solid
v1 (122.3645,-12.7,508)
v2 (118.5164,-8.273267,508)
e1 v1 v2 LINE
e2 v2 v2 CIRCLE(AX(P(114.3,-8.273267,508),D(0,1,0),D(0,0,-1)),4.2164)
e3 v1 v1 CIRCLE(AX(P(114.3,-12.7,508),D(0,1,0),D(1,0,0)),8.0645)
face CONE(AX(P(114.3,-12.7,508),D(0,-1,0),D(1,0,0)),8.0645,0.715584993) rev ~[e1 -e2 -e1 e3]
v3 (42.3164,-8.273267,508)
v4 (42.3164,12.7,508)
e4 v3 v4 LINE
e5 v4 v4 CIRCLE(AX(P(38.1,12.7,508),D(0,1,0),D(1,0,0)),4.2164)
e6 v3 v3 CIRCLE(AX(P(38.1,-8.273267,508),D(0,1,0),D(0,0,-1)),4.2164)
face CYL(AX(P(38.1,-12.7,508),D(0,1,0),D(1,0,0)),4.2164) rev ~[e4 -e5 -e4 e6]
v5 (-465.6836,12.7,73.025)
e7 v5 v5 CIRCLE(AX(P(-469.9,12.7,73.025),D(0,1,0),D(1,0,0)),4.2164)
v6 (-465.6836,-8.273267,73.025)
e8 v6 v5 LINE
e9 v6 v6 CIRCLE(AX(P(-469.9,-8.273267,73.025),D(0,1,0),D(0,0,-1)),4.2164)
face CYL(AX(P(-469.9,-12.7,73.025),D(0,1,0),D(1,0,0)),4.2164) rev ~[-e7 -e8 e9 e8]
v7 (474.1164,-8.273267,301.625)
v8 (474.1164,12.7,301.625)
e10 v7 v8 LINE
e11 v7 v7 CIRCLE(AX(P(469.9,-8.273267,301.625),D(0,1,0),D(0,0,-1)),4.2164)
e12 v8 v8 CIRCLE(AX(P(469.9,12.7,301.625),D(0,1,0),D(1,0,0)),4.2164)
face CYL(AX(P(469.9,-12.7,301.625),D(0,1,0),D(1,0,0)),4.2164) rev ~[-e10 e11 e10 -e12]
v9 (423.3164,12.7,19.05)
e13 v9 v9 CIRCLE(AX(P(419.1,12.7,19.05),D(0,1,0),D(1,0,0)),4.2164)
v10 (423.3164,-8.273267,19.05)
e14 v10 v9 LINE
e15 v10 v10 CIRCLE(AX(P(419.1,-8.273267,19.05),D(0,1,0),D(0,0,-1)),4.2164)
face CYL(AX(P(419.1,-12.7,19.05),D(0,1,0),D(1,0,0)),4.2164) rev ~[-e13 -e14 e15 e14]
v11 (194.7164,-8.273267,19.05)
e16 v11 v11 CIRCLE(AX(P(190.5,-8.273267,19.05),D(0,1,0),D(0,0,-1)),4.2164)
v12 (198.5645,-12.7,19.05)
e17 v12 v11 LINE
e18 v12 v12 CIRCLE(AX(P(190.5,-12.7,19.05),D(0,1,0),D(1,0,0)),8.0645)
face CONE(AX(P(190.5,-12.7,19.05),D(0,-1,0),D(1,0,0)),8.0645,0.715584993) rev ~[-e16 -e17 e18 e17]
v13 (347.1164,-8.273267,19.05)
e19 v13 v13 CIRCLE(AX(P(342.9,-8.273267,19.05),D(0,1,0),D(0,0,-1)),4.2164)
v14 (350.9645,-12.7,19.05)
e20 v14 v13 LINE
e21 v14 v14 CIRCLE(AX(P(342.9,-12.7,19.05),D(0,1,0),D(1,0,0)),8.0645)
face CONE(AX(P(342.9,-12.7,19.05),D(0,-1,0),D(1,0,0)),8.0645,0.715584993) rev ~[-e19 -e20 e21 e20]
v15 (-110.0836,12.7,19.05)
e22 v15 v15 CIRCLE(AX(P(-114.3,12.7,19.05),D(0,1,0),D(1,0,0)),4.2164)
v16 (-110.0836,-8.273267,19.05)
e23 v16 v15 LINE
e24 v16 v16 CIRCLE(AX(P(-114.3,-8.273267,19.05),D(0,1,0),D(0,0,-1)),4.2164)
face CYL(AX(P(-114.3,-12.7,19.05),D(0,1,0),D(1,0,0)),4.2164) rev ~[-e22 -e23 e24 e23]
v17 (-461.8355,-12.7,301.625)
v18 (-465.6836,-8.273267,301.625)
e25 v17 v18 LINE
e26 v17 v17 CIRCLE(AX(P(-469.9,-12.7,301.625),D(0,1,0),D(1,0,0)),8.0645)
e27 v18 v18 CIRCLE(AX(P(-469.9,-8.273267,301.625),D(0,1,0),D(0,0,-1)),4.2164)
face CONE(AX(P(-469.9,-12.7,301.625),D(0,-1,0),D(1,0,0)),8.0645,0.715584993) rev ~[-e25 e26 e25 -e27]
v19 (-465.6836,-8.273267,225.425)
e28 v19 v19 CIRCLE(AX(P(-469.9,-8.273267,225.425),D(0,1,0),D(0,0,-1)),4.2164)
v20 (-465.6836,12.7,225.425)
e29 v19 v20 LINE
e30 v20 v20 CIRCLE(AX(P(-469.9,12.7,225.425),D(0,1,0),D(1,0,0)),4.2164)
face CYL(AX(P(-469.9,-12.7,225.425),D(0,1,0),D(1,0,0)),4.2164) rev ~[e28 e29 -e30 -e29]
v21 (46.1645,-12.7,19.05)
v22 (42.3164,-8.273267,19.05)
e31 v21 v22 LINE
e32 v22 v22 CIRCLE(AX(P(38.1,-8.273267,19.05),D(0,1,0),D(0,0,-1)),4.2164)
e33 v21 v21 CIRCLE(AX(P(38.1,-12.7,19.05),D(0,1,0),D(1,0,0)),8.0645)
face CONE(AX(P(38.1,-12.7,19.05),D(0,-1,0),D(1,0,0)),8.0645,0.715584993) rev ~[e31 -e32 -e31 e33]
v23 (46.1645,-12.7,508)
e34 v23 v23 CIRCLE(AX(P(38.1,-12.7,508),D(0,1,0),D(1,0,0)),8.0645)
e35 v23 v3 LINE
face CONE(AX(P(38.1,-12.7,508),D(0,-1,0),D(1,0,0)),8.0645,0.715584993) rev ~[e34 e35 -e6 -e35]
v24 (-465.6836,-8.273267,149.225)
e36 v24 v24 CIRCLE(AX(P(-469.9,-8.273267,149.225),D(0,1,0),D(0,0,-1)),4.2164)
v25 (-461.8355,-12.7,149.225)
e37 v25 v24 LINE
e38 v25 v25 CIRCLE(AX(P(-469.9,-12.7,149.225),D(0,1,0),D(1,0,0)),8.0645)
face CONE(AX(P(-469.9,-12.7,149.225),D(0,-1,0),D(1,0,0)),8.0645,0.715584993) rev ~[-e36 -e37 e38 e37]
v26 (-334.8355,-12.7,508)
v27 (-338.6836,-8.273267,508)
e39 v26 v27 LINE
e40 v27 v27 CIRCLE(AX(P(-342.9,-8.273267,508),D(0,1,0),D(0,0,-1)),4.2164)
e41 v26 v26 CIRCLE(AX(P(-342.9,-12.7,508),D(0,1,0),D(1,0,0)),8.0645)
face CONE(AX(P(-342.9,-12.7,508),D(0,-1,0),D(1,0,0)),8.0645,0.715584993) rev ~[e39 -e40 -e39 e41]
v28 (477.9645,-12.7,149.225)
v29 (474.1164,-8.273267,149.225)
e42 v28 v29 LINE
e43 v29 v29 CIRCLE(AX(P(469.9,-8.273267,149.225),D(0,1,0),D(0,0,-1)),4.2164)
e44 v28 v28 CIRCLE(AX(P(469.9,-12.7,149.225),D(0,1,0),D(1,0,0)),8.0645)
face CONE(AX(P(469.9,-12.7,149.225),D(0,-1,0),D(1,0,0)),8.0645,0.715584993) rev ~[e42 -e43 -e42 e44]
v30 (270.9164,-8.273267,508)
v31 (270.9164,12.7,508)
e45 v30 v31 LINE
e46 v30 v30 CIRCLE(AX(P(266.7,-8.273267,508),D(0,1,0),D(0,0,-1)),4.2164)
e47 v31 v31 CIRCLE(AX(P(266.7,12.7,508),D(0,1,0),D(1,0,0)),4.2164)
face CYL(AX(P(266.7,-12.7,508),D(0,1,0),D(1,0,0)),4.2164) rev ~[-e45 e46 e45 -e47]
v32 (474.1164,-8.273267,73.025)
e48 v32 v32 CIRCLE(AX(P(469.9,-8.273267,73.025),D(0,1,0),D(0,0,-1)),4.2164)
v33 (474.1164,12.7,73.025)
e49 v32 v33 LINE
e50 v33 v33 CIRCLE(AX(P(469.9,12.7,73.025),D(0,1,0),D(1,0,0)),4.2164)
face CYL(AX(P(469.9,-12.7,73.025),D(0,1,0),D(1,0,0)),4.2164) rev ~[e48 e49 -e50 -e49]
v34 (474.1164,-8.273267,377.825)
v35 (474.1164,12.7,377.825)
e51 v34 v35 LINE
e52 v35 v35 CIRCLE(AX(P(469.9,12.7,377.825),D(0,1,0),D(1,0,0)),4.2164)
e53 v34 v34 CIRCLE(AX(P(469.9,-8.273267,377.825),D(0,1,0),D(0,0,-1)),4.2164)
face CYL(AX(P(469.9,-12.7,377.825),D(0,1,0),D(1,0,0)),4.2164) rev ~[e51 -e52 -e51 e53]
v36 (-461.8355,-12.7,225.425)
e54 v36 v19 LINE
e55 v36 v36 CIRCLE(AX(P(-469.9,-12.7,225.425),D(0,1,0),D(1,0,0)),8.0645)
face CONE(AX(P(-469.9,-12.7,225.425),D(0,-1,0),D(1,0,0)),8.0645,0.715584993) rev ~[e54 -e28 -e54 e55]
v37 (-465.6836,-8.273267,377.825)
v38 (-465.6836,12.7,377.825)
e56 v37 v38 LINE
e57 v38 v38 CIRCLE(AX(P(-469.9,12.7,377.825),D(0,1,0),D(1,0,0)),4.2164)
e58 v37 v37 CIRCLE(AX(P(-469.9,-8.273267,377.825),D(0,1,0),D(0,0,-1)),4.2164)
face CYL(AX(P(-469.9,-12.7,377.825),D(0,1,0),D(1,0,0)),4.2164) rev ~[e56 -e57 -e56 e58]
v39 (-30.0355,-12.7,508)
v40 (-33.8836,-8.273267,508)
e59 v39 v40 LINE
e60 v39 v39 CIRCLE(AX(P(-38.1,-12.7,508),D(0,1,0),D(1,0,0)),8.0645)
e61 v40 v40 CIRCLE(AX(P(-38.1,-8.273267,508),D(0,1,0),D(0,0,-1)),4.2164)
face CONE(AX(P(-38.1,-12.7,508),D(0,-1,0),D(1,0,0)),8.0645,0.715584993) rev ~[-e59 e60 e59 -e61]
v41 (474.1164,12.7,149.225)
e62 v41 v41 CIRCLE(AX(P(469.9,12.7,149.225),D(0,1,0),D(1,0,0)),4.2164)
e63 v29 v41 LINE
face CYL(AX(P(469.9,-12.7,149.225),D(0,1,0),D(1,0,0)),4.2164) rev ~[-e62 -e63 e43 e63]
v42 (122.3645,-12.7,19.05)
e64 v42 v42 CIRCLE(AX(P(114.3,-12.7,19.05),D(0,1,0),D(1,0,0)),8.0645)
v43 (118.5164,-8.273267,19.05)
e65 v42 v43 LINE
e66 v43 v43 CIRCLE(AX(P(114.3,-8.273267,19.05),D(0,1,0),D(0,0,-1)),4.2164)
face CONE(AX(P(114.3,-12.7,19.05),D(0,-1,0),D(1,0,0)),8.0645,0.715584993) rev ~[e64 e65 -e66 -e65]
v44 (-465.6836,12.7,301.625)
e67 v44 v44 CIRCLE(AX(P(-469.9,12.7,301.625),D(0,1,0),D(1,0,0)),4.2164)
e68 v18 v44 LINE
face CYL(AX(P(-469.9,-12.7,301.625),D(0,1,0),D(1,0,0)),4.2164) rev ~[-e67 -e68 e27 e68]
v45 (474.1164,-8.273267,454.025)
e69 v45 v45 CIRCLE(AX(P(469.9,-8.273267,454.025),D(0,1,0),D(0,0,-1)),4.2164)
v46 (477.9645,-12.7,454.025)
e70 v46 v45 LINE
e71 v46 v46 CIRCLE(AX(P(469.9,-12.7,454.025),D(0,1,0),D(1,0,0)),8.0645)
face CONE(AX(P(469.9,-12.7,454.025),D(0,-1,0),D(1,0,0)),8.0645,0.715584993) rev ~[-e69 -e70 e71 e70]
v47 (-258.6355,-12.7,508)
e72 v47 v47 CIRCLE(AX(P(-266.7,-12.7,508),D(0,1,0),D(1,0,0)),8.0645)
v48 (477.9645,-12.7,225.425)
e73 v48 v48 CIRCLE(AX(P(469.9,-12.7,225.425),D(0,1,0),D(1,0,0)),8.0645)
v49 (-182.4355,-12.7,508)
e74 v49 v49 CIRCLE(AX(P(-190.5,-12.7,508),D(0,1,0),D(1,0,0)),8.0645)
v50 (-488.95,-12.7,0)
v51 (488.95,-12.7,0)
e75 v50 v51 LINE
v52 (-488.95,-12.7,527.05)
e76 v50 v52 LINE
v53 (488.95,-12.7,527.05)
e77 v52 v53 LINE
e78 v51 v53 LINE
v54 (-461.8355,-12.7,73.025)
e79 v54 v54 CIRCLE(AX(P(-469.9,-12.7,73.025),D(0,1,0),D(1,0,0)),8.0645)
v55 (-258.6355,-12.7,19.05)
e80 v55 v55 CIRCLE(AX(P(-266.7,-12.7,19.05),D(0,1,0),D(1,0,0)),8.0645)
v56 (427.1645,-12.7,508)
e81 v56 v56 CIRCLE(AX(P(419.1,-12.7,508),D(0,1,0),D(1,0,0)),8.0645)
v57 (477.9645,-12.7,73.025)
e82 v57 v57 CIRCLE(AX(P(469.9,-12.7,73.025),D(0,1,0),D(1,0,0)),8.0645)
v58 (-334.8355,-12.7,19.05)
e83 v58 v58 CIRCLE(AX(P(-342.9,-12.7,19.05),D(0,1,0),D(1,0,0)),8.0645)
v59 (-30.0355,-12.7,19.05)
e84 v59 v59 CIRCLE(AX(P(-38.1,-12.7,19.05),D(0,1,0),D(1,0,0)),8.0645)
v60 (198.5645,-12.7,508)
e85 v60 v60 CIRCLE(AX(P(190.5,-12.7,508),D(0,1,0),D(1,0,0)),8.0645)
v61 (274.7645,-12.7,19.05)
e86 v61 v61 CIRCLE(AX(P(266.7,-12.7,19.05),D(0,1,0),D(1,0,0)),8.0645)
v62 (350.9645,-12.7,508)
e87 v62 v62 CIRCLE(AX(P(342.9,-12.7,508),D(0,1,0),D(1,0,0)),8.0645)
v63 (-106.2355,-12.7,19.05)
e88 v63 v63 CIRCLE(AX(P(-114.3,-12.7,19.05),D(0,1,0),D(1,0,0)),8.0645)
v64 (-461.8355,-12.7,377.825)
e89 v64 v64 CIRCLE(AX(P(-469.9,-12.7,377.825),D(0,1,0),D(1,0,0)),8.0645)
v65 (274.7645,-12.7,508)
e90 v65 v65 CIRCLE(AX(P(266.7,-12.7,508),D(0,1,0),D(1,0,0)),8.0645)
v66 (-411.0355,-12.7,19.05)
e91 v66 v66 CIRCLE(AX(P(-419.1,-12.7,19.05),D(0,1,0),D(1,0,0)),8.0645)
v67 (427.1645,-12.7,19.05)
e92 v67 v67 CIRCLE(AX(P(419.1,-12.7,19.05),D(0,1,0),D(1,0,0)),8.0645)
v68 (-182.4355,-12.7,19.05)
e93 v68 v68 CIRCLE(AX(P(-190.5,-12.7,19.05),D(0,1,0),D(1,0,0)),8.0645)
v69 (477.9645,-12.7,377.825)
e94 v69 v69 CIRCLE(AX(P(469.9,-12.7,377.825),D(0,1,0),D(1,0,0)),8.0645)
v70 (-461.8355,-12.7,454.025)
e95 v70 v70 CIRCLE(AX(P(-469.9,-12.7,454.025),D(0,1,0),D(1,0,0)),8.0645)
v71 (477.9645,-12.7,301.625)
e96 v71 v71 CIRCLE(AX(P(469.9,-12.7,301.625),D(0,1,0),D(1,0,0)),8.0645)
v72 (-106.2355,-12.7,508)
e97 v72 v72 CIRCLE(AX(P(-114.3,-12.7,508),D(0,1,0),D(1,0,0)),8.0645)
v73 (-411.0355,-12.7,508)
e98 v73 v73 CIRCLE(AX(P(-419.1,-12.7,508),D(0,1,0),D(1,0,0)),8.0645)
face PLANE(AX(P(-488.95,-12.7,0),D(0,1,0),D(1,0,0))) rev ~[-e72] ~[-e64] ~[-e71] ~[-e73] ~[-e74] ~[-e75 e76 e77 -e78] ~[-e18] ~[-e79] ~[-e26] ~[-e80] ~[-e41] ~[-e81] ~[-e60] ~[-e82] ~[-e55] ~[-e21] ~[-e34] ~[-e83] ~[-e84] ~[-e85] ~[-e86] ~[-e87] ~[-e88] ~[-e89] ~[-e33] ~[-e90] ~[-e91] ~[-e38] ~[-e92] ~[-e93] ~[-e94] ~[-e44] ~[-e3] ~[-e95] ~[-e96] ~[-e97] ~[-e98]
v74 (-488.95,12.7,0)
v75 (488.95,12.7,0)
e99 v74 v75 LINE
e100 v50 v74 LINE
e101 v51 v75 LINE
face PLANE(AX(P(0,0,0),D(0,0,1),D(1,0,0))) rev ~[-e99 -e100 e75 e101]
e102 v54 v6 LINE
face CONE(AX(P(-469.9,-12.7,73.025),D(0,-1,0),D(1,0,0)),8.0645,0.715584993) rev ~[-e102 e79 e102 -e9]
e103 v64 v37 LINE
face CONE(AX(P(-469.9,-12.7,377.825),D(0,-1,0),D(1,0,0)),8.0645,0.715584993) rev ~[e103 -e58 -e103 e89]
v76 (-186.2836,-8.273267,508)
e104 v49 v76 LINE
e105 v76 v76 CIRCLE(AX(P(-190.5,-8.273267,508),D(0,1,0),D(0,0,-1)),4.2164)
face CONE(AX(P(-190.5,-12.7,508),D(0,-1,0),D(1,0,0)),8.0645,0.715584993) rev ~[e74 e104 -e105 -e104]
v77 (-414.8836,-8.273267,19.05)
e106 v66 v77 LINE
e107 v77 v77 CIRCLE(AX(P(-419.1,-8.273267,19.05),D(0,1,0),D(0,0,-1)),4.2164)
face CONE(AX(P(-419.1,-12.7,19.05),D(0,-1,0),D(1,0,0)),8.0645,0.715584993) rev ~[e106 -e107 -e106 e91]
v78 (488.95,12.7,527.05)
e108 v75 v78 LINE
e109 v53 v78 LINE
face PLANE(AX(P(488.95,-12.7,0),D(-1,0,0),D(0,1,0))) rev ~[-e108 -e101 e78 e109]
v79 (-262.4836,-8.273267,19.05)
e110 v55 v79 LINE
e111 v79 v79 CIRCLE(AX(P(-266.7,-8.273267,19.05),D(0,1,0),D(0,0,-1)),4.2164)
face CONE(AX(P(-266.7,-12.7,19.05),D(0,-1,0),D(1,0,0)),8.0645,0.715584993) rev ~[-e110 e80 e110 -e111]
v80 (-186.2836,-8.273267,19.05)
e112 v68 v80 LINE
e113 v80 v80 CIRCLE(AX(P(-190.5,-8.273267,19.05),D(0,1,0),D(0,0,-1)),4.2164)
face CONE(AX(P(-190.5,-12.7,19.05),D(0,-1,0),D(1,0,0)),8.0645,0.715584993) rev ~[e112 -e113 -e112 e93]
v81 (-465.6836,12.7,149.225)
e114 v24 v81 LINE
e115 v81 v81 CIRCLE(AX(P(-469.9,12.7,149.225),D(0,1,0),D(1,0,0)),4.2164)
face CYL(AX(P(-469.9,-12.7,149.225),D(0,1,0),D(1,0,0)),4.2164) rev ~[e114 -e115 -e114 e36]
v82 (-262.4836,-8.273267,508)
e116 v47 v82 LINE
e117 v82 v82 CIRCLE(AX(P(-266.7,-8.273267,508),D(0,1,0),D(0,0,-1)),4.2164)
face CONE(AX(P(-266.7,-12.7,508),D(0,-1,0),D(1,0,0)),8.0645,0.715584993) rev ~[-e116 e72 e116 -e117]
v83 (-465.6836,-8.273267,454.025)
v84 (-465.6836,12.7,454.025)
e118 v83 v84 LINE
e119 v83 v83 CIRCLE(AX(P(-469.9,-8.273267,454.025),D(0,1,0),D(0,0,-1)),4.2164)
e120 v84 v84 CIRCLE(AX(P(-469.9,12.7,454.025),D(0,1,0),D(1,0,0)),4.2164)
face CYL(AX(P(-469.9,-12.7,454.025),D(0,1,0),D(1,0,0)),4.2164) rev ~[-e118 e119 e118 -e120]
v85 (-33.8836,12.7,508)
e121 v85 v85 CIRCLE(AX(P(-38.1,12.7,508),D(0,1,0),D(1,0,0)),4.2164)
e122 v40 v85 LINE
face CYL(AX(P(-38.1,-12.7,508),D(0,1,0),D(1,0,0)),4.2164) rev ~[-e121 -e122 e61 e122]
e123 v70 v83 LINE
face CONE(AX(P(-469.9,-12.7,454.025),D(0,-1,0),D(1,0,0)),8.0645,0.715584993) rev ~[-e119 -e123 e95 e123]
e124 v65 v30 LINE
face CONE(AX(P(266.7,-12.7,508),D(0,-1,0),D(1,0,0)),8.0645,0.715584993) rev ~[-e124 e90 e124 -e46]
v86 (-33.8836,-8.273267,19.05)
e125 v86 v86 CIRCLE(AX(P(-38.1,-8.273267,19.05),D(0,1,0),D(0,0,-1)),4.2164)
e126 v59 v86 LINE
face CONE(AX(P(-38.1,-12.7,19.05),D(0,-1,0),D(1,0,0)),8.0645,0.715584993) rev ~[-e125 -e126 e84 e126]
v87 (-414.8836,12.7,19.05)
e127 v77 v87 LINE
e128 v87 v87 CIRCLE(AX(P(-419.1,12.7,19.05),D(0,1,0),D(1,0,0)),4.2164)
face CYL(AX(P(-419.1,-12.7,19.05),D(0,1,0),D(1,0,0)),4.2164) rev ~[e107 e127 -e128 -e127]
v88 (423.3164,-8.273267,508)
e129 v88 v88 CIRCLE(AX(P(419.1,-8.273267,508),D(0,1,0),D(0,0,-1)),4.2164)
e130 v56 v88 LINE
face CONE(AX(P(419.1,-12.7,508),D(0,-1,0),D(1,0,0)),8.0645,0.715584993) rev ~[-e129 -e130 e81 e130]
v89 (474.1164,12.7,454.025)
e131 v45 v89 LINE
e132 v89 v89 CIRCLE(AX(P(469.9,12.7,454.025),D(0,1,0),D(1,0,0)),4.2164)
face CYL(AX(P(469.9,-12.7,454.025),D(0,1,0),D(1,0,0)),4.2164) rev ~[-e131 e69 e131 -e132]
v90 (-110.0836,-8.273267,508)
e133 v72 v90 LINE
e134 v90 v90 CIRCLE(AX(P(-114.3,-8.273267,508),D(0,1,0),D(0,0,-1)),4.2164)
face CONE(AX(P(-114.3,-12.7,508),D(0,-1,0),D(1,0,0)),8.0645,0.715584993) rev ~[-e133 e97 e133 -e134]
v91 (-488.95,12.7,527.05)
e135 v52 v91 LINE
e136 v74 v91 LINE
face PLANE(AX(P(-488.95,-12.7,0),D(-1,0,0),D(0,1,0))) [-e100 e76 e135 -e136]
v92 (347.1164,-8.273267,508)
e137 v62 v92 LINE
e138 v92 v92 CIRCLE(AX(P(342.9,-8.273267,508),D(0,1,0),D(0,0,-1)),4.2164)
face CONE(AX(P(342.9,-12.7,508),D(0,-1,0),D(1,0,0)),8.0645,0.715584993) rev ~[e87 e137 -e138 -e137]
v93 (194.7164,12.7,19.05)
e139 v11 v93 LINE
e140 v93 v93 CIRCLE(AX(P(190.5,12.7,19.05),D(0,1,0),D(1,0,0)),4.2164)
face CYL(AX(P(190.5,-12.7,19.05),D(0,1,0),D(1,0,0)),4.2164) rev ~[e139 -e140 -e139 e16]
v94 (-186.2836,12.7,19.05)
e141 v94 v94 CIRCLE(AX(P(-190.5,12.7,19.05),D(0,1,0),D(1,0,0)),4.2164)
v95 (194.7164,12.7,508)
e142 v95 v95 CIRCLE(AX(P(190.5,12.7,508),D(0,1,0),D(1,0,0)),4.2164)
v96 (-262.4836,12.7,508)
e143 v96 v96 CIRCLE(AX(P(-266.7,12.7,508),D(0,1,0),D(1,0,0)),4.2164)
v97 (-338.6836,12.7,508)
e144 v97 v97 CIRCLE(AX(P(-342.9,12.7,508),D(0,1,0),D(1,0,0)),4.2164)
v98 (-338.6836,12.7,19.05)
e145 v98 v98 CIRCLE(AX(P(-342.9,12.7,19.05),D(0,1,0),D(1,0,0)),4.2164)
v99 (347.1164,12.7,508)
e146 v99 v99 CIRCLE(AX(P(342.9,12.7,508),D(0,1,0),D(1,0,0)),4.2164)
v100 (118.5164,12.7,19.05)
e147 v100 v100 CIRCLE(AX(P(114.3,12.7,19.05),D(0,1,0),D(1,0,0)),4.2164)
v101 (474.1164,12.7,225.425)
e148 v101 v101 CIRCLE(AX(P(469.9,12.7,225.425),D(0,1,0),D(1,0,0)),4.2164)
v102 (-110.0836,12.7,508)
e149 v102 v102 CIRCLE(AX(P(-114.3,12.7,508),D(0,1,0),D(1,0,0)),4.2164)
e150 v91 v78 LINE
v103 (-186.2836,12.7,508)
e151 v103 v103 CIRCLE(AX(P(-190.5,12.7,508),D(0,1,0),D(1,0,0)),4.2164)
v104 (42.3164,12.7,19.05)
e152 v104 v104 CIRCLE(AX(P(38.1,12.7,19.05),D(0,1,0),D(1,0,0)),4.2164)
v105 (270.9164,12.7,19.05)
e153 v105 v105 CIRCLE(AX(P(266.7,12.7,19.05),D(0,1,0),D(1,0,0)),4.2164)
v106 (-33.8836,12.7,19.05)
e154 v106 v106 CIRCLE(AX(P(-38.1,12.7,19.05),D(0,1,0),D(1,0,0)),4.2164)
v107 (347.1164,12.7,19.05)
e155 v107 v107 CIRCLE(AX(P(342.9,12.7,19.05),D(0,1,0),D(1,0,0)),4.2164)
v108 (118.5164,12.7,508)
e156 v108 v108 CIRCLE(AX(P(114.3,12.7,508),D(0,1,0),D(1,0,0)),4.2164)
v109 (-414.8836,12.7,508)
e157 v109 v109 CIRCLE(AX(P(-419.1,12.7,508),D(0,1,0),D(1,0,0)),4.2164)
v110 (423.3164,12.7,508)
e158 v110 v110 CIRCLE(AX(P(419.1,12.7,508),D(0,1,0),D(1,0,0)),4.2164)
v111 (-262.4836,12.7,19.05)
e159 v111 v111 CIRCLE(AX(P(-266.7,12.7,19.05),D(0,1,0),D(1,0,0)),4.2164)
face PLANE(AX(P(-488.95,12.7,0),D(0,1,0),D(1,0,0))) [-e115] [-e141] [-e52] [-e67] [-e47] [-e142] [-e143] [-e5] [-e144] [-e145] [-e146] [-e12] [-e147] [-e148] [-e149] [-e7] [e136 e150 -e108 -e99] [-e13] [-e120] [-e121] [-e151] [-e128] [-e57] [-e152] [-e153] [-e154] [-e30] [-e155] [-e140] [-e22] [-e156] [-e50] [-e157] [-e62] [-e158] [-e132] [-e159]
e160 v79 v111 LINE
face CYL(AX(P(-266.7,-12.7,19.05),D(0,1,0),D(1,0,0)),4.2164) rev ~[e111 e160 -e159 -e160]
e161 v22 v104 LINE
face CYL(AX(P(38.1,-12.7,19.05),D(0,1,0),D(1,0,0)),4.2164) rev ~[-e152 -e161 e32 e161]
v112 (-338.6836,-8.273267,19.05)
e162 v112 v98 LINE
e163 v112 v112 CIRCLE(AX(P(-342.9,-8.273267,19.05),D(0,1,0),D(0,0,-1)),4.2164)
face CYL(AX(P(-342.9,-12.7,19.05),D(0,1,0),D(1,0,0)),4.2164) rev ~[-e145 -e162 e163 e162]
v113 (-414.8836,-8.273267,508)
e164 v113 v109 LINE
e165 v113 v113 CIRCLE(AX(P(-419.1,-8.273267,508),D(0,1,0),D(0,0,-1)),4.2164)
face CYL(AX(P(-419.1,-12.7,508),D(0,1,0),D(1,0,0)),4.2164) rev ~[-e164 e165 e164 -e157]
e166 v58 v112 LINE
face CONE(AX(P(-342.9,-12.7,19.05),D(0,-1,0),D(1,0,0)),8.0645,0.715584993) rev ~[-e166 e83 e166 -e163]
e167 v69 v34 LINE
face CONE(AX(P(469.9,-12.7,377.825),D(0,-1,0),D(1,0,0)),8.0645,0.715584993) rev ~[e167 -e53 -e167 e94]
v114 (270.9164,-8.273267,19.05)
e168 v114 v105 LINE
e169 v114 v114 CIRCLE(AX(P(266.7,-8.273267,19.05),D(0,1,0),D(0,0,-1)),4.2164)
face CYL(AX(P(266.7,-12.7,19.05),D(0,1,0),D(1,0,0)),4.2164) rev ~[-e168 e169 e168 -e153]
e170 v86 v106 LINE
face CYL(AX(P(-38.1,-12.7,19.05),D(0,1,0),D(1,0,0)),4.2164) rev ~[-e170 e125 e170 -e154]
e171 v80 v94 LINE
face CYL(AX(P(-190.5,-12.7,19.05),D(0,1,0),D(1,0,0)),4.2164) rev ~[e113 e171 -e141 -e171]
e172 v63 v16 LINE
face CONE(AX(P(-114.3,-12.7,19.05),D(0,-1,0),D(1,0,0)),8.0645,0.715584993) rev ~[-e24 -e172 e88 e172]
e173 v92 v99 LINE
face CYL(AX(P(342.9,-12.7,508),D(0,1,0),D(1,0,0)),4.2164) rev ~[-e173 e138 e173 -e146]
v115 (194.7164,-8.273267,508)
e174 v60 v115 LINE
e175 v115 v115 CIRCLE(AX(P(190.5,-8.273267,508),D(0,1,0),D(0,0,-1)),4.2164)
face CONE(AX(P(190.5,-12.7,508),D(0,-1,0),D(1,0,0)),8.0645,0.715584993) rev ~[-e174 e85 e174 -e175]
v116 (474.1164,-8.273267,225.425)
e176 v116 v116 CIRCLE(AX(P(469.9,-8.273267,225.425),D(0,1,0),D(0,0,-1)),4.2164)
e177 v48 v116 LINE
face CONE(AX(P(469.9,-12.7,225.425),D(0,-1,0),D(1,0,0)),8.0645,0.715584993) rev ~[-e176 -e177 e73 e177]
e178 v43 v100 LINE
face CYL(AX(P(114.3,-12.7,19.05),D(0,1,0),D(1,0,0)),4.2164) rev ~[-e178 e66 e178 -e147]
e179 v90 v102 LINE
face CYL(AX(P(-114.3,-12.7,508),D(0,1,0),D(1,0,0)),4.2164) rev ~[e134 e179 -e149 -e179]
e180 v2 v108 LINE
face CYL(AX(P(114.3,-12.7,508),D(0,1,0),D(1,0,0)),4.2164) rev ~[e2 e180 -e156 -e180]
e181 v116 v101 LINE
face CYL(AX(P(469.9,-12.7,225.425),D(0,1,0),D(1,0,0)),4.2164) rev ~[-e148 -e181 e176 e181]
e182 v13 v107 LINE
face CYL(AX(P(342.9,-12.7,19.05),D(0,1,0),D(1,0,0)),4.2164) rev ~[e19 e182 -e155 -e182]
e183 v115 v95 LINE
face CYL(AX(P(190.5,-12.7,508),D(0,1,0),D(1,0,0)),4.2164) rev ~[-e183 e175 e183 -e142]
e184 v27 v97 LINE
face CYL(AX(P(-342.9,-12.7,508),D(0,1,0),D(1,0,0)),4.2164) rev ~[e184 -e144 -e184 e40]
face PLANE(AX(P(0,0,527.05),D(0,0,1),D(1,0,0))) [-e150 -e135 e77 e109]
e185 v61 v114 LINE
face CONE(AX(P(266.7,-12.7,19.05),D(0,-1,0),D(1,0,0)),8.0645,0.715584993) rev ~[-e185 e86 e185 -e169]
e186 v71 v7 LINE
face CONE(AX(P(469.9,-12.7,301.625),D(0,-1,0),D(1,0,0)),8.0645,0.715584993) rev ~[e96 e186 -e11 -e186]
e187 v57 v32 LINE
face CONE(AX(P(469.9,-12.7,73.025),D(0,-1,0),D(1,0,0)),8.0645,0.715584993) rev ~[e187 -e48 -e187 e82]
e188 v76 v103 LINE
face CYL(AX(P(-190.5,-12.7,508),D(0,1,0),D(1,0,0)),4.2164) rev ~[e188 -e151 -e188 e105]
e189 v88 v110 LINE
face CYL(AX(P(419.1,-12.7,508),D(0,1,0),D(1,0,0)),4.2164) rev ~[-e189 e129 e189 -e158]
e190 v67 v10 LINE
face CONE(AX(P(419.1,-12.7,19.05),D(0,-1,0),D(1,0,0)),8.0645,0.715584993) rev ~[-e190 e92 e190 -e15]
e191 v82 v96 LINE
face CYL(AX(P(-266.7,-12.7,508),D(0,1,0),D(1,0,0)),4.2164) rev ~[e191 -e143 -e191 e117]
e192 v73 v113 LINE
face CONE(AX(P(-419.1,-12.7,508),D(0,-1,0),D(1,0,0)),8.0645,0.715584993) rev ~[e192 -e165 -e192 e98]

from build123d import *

# Parameters (mm, degrees)
SKETCH1_W                                         = 977.9
SKETCH1_H                                         = 25.4
BOSS_EXTRUDE1_DEPTH                               = 527.05
CSK_FOR_5_16_FLAT_HEAD_MACHINE_SCREW3_D           = 8.4328
CSK_FOR_5_16_FLAT_HEAD_MACHINE_SCREW3_CSINK_D     = 16.129
CSK_FOR_5_16_FLAT_HEAD_MACHINE_SCREW3_CSINK_ANGLE = 82
CSK_FOR_5_16_FLAT_HEAD_MACHINE_SCREW4_D           = 8.4328
CSK_FOR_5_16_FLAT_HEAD_MACHINE_SCREW4_CSINK_D     = 16.129
CSK_FOR_5_16_FLAT_HEAD_MACHINE_SCREW4_CSINK_ANGLE = 82


with BuildPart() as part:
    # Sketch1 → Boss-Extrude1 (new body)
    with BuildSketch(Plane.XY):
        Rectangle(SKETCH1_W, SKETCH1_H)
    extrude(amount=BOSS_EXTRUDE1_DEPTH)

    # CSK for 5/16 Flat Head Machine Screw3 (through all)
    with Locations(Plane(origin=(0, -12.7, 0), x_dir=(-1, 0, 0), z_dir=(0, -1, 0))):
        with Locations((419.1, -508), (342.9, -508), (266.7, -508), (190.5, -508), (114.3, -508), (38.1, -508), (-38.1, -508), (-114.3, -508), (-190.5, -508), (-266.7, -508), (419.1, -19.05), (342.9, -19.05), (266.7, -19.05), (190.5, -19.05), (114.3, -19.05), (38.1, -19.05), (-38.1, -19.05), (-114.3, -19.05), (-190.5, -19.05), (-266.7, -19.05), (-342.9, -508), (-342.9, -19.05), (-419.1, -508), (-419.1, -19.05)):
            CounterSinkHole(CSK_FOR_5_16_FLAT_HEAD_MACHINE_SCREW3_D / 2, CSK_FOR_5_16_FLAT_HEAD_MACHINE_SCREW3_CSINK_D / 2, counter_sink_angle=CSK_FOR_5_16_FLAT_HEAD_MACHINE_SCREW3_CSINK_ANGLE)

    # CSK for 5/16 Flat Head Machine Screw4 (through all)
    with Locations(Plane(origin=(0, -12.7, 0), x_dir=(-1, 0, 0), z_dir=(0, -1, 0))):
        with Locations((469.9, -454.025), (469.9, -377.825), (469.9, -301.625), (469.9, -225.425), (469.9, -149.225), (469.9, -73.025), (-469.9, -454.025), (-469.9, -377.825), (-469.9, -301.625), (-469.9, -225.425), (-469.9, -149.225), (-469.9, -73.025)):
            CounterSinkHole(CSK_FOR_5_16_FLAT_HEAD_MACHINE_SCREW4_D / 2, CSK_FOR_5_16_FLAT_HEAD_MACHINE_SCREW4_CSINK_D / 2, counter_sink_angle=CSK_FOR_5_16_FLAT_HEAD_MACHINE_SCREW4_CSINK_ANGLE)


solid = part.part
